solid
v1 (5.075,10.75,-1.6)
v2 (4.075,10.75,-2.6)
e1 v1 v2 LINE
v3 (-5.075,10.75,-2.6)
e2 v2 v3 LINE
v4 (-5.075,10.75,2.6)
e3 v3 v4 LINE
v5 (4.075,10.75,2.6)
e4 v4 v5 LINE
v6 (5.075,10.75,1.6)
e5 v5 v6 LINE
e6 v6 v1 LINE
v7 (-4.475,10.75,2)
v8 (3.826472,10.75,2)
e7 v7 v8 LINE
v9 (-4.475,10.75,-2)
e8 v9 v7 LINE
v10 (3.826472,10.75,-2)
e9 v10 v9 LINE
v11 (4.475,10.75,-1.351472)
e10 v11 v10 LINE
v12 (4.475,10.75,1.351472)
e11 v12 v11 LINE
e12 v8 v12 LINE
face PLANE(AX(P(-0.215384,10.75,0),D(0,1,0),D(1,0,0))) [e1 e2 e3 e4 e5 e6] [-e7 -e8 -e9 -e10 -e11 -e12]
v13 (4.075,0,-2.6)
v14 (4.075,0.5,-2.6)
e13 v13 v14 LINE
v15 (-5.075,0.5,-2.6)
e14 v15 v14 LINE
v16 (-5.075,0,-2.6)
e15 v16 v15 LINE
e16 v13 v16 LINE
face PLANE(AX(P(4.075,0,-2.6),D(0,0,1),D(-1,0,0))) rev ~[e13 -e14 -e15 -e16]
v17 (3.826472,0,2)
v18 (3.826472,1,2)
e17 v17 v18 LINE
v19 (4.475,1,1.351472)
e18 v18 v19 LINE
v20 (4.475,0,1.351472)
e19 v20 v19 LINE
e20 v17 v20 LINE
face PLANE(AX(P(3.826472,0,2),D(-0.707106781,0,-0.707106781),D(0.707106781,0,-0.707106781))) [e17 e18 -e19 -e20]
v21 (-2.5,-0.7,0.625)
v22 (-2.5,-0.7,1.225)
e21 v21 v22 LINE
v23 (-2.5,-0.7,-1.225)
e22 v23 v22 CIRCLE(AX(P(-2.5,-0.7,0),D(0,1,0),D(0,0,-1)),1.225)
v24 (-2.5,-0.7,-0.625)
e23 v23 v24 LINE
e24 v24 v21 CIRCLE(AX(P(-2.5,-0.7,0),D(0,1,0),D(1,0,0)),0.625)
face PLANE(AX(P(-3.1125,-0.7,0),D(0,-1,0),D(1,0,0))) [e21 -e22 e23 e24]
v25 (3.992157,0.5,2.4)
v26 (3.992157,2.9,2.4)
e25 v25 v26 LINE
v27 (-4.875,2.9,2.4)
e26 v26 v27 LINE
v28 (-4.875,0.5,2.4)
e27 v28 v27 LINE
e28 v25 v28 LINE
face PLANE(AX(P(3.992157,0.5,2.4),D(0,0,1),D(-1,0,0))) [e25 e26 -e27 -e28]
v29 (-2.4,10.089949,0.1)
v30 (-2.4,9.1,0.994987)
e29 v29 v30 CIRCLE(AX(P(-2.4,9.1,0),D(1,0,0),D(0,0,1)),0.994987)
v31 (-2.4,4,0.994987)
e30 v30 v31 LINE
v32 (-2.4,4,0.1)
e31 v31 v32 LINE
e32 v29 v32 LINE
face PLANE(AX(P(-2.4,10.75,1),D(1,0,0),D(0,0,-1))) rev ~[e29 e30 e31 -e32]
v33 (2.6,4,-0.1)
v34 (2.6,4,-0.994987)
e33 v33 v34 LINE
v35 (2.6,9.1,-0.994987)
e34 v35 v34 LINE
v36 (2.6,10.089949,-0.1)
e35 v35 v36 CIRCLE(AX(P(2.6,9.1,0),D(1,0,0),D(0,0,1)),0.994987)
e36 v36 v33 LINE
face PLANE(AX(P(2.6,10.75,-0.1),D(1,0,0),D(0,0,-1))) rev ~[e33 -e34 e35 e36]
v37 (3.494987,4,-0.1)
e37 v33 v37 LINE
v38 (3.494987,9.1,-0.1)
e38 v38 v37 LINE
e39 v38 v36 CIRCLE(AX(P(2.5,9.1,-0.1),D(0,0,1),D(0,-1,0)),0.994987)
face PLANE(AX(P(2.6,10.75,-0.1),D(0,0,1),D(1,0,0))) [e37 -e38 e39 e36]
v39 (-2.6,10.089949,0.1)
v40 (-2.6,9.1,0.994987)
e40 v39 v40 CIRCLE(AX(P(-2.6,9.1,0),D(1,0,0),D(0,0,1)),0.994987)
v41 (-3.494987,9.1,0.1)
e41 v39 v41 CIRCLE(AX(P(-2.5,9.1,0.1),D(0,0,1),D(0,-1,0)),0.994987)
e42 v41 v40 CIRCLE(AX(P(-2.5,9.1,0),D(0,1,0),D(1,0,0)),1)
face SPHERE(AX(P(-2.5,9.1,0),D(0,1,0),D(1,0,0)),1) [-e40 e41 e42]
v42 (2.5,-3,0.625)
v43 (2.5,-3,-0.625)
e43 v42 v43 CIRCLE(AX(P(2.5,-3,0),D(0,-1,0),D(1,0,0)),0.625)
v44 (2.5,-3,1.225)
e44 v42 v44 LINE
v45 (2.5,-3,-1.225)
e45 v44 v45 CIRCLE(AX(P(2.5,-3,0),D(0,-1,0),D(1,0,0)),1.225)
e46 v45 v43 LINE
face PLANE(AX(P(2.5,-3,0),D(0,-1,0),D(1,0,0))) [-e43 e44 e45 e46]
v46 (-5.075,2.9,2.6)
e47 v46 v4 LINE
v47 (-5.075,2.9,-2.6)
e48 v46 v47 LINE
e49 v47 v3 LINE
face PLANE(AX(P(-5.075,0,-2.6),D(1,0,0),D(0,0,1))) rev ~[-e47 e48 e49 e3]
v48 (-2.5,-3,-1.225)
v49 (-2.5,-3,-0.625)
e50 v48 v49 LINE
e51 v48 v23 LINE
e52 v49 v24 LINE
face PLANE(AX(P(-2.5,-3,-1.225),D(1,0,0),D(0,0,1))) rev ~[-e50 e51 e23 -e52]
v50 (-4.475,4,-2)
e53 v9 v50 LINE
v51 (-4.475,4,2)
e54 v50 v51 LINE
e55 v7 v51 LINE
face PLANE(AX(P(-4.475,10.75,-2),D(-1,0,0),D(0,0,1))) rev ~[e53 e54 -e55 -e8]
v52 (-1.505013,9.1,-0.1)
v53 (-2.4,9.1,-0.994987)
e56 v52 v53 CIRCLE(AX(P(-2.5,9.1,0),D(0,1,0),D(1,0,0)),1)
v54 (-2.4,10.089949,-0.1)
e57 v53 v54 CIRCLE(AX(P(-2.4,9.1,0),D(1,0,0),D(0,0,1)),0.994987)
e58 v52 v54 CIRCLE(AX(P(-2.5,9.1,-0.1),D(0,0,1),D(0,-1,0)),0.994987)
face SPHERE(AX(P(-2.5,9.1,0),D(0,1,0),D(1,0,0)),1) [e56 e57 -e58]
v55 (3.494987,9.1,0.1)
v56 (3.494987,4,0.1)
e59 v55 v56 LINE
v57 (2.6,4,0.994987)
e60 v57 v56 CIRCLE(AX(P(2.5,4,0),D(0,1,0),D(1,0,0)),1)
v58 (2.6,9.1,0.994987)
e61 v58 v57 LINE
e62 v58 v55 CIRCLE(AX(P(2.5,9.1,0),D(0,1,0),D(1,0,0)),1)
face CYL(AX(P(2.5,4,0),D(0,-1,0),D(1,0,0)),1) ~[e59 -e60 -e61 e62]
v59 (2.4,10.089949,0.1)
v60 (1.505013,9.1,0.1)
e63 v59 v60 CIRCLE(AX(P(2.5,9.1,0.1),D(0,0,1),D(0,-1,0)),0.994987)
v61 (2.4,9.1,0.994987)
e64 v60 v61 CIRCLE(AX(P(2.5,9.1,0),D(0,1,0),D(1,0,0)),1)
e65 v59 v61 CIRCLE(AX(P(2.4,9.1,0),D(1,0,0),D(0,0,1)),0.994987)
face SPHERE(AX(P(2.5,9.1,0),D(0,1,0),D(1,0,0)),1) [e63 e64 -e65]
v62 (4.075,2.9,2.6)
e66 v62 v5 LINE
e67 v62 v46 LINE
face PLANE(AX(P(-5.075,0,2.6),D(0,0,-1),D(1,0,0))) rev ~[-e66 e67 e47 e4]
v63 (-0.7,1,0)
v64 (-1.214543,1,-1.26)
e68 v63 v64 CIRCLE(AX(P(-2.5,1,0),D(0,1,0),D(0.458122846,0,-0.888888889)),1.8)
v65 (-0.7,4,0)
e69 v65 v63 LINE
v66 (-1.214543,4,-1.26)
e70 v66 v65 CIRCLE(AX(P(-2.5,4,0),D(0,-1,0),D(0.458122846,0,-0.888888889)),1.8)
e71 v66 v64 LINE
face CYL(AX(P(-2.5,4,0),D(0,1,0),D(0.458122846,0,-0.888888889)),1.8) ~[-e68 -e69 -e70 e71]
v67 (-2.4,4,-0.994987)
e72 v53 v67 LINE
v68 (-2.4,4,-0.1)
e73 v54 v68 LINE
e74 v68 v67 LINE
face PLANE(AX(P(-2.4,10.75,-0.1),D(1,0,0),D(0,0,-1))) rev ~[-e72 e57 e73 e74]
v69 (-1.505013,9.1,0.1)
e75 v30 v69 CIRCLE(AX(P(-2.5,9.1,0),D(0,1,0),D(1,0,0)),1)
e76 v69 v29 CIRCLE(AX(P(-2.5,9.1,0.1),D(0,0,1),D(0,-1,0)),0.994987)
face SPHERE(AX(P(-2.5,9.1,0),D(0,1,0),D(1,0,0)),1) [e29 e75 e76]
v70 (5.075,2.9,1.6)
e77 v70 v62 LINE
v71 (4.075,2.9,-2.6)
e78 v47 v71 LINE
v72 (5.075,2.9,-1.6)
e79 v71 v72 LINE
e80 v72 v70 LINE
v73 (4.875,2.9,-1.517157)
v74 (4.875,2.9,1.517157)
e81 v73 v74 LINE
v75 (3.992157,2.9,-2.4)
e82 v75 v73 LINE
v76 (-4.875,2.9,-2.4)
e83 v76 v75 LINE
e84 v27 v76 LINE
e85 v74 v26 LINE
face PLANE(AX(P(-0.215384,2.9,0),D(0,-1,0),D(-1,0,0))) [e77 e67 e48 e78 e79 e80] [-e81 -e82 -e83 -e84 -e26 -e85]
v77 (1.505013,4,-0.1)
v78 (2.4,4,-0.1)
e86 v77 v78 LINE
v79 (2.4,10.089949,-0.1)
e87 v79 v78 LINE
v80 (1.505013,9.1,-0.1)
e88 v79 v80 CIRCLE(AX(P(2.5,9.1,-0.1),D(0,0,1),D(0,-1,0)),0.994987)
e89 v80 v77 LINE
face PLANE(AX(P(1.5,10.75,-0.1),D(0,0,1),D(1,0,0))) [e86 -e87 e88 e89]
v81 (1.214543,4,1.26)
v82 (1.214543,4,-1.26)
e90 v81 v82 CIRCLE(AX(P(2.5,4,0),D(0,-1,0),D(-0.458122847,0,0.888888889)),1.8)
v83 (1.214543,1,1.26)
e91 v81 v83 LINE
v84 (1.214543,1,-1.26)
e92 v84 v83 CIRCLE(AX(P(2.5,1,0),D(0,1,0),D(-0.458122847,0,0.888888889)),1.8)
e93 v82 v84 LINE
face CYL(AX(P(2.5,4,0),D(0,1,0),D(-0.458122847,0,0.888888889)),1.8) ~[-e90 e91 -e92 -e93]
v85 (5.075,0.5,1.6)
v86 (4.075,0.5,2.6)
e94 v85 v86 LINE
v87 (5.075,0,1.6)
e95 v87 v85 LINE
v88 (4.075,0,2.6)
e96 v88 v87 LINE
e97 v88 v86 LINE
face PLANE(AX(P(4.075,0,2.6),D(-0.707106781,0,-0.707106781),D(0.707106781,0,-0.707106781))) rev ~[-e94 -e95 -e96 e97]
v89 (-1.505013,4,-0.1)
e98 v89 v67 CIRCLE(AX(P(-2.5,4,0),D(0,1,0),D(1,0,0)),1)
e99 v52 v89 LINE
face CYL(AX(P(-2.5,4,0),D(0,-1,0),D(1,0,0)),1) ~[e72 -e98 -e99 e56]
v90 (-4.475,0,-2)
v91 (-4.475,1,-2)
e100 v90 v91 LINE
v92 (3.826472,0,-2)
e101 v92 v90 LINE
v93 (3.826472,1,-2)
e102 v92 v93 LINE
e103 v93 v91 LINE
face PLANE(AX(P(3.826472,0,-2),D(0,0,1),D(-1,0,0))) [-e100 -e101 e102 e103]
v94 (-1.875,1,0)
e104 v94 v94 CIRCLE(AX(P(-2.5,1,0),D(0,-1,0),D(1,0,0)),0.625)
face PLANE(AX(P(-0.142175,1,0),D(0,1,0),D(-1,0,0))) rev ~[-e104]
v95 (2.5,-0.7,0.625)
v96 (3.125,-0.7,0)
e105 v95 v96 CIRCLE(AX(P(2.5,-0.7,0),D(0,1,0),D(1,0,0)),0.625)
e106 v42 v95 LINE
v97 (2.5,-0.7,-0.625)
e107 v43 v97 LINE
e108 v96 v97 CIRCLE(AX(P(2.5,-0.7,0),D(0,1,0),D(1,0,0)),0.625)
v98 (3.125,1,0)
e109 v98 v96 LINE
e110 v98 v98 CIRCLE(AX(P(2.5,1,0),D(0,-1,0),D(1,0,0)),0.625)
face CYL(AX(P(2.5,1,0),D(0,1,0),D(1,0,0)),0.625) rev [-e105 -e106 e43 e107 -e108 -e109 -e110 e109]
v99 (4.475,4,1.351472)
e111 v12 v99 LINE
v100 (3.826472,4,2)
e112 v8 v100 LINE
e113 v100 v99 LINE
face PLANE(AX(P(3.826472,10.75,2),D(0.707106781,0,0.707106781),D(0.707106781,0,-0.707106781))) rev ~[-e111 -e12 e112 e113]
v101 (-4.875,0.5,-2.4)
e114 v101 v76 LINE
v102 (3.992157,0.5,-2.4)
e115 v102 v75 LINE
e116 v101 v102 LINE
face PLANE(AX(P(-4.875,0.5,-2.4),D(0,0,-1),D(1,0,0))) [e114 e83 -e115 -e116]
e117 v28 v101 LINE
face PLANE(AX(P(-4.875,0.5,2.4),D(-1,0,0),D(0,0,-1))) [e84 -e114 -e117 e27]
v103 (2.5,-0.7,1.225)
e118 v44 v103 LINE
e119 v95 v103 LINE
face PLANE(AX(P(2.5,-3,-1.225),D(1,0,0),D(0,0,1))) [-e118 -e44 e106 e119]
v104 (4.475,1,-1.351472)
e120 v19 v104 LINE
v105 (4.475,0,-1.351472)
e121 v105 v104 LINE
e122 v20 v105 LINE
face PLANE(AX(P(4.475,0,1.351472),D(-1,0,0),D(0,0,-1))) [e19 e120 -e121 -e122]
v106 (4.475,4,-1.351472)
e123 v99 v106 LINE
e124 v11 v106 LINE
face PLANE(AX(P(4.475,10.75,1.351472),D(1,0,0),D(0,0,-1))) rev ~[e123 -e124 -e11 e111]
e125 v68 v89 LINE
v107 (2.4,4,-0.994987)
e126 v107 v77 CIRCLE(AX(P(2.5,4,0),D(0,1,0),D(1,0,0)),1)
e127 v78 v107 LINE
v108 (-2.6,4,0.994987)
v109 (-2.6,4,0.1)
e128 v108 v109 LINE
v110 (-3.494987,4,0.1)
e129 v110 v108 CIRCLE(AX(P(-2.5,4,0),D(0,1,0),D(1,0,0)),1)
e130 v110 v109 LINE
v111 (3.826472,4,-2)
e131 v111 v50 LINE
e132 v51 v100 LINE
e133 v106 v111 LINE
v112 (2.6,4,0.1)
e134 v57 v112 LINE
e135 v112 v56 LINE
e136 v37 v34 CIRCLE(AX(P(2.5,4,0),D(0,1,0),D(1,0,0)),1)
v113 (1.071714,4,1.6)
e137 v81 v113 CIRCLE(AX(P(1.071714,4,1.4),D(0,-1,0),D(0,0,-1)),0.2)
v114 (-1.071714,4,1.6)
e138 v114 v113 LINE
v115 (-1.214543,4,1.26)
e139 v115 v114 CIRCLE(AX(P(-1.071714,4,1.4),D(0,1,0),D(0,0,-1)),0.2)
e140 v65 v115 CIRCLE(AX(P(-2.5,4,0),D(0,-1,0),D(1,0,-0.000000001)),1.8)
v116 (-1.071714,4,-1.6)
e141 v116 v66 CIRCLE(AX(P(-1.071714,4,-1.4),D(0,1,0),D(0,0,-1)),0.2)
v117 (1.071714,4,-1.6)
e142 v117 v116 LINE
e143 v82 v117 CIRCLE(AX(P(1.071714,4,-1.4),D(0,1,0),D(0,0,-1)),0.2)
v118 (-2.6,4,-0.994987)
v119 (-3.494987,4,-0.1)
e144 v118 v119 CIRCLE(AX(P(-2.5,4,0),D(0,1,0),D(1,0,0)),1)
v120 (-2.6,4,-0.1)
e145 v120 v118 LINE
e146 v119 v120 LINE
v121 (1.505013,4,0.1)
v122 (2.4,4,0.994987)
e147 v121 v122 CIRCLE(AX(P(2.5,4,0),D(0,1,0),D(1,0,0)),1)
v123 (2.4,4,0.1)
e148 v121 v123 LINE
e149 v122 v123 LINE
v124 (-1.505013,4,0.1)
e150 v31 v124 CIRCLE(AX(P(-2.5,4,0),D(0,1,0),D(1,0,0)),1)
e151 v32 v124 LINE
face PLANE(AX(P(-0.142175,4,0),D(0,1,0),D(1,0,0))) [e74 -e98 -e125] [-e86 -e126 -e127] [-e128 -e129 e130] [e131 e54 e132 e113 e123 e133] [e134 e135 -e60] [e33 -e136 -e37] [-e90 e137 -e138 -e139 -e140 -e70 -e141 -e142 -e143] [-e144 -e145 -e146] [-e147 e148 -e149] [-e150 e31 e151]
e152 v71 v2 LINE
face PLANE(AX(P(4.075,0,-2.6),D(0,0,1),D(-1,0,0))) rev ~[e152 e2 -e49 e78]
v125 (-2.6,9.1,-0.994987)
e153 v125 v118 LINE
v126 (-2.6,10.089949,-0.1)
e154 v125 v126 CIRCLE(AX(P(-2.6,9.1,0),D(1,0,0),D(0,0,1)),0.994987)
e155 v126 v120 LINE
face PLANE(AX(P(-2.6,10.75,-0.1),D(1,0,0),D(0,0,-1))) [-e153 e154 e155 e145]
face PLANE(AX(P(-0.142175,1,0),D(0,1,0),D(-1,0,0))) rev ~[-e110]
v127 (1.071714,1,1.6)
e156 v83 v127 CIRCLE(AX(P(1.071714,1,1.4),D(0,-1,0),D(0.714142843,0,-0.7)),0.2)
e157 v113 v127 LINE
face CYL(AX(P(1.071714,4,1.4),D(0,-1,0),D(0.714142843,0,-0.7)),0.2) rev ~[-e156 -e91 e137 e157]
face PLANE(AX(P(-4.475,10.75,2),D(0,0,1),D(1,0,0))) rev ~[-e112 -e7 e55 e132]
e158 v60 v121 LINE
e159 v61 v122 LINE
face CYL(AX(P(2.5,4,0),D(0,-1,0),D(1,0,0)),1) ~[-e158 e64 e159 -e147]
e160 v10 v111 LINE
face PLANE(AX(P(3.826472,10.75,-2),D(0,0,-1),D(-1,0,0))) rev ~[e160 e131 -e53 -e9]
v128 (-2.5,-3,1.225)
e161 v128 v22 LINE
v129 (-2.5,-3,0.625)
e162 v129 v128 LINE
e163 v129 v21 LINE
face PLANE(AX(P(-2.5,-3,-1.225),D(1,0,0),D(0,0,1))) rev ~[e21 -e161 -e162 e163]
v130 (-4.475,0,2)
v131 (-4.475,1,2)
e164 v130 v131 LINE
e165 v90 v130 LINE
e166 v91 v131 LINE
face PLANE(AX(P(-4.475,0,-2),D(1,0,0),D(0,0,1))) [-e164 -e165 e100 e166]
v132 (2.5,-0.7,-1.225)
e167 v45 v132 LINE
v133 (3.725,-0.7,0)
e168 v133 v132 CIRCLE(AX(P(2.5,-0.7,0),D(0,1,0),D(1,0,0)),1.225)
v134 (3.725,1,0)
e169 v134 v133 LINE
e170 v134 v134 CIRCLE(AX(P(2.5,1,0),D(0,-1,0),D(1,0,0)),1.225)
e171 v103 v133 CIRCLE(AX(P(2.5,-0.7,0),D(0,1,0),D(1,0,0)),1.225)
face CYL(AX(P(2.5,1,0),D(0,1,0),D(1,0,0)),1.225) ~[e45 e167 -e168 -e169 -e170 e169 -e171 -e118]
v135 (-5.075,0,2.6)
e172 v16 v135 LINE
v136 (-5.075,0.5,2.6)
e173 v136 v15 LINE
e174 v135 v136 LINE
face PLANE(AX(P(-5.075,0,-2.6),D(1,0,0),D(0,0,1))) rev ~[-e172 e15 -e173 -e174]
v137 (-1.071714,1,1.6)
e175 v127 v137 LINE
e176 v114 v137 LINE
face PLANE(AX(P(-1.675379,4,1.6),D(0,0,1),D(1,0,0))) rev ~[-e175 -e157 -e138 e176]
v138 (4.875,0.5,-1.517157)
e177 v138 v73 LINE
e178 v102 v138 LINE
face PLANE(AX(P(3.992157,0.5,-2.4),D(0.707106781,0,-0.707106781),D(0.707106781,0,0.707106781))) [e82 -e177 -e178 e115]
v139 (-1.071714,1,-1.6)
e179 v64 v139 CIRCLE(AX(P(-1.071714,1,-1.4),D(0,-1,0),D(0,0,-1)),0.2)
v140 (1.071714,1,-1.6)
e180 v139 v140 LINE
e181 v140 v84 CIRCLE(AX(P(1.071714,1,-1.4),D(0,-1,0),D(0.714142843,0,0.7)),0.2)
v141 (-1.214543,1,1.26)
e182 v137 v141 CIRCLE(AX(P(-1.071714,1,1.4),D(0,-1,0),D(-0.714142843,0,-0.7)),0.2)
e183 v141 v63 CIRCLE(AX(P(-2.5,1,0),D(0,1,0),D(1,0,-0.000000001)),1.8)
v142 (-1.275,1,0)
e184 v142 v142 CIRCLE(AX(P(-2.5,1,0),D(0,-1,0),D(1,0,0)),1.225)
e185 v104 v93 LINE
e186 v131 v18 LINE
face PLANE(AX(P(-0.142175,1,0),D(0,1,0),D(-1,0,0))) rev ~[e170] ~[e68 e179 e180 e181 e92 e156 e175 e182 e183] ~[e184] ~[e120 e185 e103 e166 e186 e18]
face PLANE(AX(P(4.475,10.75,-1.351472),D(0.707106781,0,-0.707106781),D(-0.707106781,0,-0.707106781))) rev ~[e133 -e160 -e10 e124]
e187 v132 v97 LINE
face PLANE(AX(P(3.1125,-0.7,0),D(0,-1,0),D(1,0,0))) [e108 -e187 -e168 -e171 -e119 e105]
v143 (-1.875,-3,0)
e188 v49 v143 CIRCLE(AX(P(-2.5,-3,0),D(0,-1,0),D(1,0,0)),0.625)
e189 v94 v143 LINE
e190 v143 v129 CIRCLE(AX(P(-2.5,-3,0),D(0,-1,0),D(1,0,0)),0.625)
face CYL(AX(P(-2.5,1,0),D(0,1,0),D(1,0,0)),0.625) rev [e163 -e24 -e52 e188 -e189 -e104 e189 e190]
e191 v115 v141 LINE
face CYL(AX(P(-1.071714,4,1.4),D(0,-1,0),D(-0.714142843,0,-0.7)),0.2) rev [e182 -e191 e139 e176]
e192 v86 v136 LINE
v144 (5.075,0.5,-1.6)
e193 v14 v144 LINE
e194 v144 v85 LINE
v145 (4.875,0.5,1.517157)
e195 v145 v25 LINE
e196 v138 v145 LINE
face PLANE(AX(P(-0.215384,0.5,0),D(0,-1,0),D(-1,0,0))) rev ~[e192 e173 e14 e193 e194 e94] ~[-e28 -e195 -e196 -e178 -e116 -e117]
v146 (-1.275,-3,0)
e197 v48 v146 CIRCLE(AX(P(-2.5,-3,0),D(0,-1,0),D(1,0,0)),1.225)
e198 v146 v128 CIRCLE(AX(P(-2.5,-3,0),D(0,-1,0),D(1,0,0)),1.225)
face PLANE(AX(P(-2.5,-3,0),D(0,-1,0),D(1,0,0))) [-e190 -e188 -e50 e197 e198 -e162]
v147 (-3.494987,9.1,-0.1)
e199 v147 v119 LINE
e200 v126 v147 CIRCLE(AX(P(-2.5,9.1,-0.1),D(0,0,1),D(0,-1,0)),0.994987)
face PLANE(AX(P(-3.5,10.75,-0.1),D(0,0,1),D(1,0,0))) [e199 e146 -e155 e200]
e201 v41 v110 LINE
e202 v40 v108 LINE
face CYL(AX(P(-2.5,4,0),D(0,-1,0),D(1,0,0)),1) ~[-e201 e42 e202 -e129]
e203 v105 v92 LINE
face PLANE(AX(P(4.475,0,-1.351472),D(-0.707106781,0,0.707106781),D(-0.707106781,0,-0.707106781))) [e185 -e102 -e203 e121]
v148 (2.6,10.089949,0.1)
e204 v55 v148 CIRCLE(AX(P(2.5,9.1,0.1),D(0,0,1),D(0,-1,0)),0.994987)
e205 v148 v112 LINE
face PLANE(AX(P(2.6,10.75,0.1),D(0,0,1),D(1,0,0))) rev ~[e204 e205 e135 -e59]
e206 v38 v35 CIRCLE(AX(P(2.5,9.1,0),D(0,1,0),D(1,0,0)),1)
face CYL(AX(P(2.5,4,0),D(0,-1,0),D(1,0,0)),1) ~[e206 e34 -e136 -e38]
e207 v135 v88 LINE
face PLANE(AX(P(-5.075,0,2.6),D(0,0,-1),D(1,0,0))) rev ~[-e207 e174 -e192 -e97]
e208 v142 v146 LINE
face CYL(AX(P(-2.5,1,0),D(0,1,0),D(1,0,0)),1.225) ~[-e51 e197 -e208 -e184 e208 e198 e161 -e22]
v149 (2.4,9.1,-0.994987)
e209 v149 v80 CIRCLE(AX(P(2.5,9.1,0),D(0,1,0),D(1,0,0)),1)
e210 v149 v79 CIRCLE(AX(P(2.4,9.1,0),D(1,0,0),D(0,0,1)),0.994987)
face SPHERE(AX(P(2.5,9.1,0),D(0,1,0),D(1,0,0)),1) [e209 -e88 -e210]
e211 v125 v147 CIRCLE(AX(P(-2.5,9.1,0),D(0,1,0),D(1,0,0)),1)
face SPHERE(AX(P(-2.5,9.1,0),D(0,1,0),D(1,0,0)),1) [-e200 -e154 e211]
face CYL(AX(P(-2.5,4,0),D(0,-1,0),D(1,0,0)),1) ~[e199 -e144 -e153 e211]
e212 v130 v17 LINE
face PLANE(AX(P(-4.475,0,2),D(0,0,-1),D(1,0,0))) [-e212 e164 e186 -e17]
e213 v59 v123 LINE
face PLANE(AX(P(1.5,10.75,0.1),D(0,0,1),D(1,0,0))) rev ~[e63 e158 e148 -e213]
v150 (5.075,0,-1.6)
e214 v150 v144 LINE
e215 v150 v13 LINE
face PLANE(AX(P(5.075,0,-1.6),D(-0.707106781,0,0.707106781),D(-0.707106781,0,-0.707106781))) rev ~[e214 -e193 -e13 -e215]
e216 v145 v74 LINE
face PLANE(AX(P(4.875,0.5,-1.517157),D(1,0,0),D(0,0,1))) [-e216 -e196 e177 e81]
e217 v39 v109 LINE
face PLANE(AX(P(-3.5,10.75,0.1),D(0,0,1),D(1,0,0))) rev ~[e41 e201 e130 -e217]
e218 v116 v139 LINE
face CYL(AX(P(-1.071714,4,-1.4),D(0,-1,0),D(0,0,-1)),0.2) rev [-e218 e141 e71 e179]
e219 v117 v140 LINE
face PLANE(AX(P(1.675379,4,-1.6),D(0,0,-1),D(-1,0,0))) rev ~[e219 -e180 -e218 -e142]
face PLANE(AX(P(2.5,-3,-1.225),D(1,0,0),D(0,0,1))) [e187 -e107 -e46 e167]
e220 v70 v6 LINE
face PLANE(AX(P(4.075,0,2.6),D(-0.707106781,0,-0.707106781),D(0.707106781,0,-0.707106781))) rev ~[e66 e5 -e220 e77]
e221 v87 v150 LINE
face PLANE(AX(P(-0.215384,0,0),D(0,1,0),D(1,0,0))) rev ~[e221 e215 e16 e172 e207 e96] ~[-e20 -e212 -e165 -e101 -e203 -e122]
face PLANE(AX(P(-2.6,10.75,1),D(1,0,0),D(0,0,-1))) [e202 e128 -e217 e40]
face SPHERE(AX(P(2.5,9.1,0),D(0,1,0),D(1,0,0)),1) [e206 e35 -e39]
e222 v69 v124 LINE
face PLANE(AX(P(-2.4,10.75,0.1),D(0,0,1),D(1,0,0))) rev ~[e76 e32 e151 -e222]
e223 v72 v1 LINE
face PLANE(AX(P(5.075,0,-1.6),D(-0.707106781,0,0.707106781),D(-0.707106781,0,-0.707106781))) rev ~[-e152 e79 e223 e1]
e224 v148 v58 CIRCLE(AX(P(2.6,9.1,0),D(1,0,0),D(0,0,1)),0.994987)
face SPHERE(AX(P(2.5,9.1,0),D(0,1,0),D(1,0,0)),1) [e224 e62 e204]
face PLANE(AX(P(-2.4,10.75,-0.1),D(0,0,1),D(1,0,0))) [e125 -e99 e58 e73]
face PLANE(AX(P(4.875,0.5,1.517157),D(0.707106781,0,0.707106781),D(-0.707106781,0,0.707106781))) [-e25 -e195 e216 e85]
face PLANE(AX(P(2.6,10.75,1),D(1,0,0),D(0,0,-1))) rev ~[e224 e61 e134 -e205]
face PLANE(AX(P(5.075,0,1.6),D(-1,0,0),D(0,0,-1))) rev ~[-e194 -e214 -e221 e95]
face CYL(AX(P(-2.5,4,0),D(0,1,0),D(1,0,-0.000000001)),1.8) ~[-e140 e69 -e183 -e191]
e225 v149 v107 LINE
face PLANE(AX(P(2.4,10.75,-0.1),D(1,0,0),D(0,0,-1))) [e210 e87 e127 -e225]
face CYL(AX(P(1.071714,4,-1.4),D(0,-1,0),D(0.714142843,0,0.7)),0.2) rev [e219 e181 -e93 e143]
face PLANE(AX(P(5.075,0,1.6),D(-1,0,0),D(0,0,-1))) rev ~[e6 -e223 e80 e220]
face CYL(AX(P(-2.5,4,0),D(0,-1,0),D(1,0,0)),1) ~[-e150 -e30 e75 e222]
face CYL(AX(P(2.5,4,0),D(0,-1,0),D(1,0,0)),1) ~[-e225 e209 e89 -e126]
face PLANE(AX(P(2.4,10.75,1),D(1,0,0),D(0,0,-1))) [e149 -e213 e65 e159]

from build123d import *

# Parameters (mm, degrees)
SHAPE_DEPTH         = 10.75
CUT_EXTRUDE1_DEPTH  = 6.75
CUT_EXTRUDE2_REACH  = 6
FILLET1_R           = 0.2
SKETCH4_R           = 1
BOSS_EXTRUDE2_DEPTH = 6.1
FILLET2_R           = 1
SKETCH5_W           = 0.2
SKETCH5_H           = 2
SKETCH5_W_2         = 2
SKETCH5_H_2         = 0.2
CUT_EXTRUDE3_DEPTH  = 6.75
CUT_EXTRUDE4_DEPTH  = 2.4
CUT_EXTRUDE5_DEPTH  = 1
SKETCH7_R           = 1.225
SKETCH7_R_2         = 0.625
BOSS_EXTRUDE3_DEPTH = 4
SKETCH9_W           = 1.225
SKETCH9_H           = 2.45
CUT_EXTRUDE6_DEPTH  = 2.3


with BuildPart() as part:
    # Sketch1 → Shape (new body)
    with BuildSketch(Plane(origin=(0, 0, 0), x_dir=(1, 0, 0), z_dir=(0, 1, 0))):
        Polygon((5.075, -1.6), (5.075, 1.6), (4.075, 2.6), (-5.075, 2.6), (-5.075, -2.6), (4.075, -2.6), align=None)
    extrude(amount=SHAPE_DEPTH)

    # Sketch2 → Cut-Extrude1 (cut)
    with BuildSketch(Plane(origin=(0, 10.75, 0), x_dir=(1, 0, 0), z_dir=(0, 1, 0))):
        Polygon((3.826471863, -2), (4.475, -1.351471863), (4.475, 1.351471863), (3.826471863, 2), (-4.475, 2), (-4.475, -2), align=None)
    extrude(amount=-CUT_EXTRUDE1_DEPTH, mode=Mode.SUBTRACT)

    # Sketch3 → Cut-Extrude2 (cut, up to next)
    with BuildSketch(Plane(origin=(0, 4, 0), x_dir=(1, 0, 0), z_dir=(0, 1, 0)), mode=Mode.PRIVATE) as cut_extrude2_sk1:
        with BuildLine():
            Line((-1.675378875, -1.6), (1.675378875, -1.6))
            ThreePointArc((1.675378875, -1.6), (0.7, 0), (1.675378875, 1.6))
            Line((1.675378875, 1.6), (-1.675378875, 1.6))
            ThreePointArc((-1.675378875, 1.6), (-0.963068312, 0.936931688), (-0.7, 0))
            ThreePointArc((-0.7, 0), (-0.963068312, -0.936931688), (-1.675378875, -1.6))
        make_face()
    cut_extrude2_tool1 = extrude(cut_extrude2_sk1.sketch, amount=-CUT_EXTRUDE2_REACH, mode=Mode.PRIVATE) & part.part
    add(cut_extrude2_tool1.solids().sort_by_distance((0, 4, 0))[0], mode=Mode.SUBTRACT)

    # Fillet1
    fillet1_edges = [part.edges().sort_by_distance(p)[0] for p in [
        (1.675378875, 2, 1.6),
        (-1.675378875, 2, 1.6),
        (-1.675378875, 2, -1.6),
        (1.675378875, 2, -1.6),
    ]]
    fillet(fillet1_edges, radius=FILLET1_R)

    # Sketch4 → Boss-Extrude2 (add)
    with BuildSketch(Plane(origin=(0, 4, 0), x_dir=(1, 0, 0), z_dir=(0, 1, 0))):
        with Locations((-2.5, 0)):
            Circle(SKETCH4_R)
        with Locations((2.5, 0)):
            Circle(SKETCH4_R)
    extrude(amount=BOSS_EXTRUDE2_DEPTH)

    # Fillet2
    fillet2_edges = [part.edges().sort_by_distance(p)[0] for p in [
        (-3.5, 10.1, 0),
        (1.5, 10.1, 0),
    ]]
    fillet(fillet2_edges, radius=FILLET2_R)

    # Sketch5 → Cut-Extrude3 (cut)
    with BuildSketch(Plane(origin=(0, 10.75, 0), x_dir=(1, 0, 0), z_dir=(0, 1, 0))):
        with Locations((-2.5, 0)):
            Rectangle(SKETCH5_W, SKETCH5_H)
        with Locations((-2.5, 0)):
            Rectangle(SKETCH5_W_2, SKETCH5_H_2)
        with Locations((2.5, 0)):
            Rectangle(SKETCH5_W_2, SKETCH5_H_2)
        with Locations((2.5, 0)):
            Rectangle(SKETCH5_W, SKETCH5_H)
    extrude(amount=-CUT_EXTRUDE3_DEPTH, mode=Mode.SUBTRACT)

    # Sketch6 → Cut-Extrude4 (cut)
    with BuildSketch(Plane(origin=(0, 0.5, 0), x_dir=(-1, 0, 0), z_dir=(0, -1, 0))):
        Polygon((-5.075, -1.6), (-4.075, -2.6), (5.075, -2.6), (5.075, 2.6), (-4.075, 2.6), (-5.075, 1.6), align=None)
        Polygon((-4.875, -1.517157288), (-3.992157288, -2.4), (4.875, -2.4), (4.875, 2.4), (-3.992157288, 2.4), (-4.875, 1.517157288), align=None, mode=Mode.SUBTRACT)
    extrude(amount=-CUT_EXTRUDE4_DEPTH, mode=Mode.SUBTRACT)

    # Sketch8 → Cut-Extrude5 (cut)
    with BuildSketch(Plane.XZ):
        Polygon((-4.475, -2), (-4.475, 2), (3.826471863, 2), (4.475, 1.351471863), (4.475, -1.351471863), (3.826471863, -2), align=None)
    extrude(amount=-CUT_EXTRUDE5_DEPTH, mode=Mode.SUBTRACT)

    # Sketch7 → Boss-Extrude3 (add)
    with BuildSketch(Plane.XZ.offset(-1)):
        with Locations((-2.5, 0)):
            Circle(SKETCH7_R)
        with Locations((-2.5, 0)):
            Circle(SKETCH7_R_2, mode=Mode.SUBTRACT)
        with Locations((2.5, 0)):
            Circle(SKETCH7_R)
        with Locations((2.5, 0)):
            Circle(SKETCH7_R_2, mode=Mode.SUBTRACT)
    extrude(amount=BOSS_EXTRUDE3_DEPTH)

    # Sketch9 → Cut-Extrude6 (cut)
    with BuildSketch(Plane.XZ.offset(3)):
        with Locations((-3.1125, 0)):
            Rectangle(SKETCH9_W, SKETCH9_H)
        with Locations((3.1125, 0)):
            Rectangle(SKETCH9_W, SKETCH9_H)
    extrude(amount=-CUT_EXTRUDE6_DEPTH, mode=Mode.SUBTRACT)


solid = part.part
